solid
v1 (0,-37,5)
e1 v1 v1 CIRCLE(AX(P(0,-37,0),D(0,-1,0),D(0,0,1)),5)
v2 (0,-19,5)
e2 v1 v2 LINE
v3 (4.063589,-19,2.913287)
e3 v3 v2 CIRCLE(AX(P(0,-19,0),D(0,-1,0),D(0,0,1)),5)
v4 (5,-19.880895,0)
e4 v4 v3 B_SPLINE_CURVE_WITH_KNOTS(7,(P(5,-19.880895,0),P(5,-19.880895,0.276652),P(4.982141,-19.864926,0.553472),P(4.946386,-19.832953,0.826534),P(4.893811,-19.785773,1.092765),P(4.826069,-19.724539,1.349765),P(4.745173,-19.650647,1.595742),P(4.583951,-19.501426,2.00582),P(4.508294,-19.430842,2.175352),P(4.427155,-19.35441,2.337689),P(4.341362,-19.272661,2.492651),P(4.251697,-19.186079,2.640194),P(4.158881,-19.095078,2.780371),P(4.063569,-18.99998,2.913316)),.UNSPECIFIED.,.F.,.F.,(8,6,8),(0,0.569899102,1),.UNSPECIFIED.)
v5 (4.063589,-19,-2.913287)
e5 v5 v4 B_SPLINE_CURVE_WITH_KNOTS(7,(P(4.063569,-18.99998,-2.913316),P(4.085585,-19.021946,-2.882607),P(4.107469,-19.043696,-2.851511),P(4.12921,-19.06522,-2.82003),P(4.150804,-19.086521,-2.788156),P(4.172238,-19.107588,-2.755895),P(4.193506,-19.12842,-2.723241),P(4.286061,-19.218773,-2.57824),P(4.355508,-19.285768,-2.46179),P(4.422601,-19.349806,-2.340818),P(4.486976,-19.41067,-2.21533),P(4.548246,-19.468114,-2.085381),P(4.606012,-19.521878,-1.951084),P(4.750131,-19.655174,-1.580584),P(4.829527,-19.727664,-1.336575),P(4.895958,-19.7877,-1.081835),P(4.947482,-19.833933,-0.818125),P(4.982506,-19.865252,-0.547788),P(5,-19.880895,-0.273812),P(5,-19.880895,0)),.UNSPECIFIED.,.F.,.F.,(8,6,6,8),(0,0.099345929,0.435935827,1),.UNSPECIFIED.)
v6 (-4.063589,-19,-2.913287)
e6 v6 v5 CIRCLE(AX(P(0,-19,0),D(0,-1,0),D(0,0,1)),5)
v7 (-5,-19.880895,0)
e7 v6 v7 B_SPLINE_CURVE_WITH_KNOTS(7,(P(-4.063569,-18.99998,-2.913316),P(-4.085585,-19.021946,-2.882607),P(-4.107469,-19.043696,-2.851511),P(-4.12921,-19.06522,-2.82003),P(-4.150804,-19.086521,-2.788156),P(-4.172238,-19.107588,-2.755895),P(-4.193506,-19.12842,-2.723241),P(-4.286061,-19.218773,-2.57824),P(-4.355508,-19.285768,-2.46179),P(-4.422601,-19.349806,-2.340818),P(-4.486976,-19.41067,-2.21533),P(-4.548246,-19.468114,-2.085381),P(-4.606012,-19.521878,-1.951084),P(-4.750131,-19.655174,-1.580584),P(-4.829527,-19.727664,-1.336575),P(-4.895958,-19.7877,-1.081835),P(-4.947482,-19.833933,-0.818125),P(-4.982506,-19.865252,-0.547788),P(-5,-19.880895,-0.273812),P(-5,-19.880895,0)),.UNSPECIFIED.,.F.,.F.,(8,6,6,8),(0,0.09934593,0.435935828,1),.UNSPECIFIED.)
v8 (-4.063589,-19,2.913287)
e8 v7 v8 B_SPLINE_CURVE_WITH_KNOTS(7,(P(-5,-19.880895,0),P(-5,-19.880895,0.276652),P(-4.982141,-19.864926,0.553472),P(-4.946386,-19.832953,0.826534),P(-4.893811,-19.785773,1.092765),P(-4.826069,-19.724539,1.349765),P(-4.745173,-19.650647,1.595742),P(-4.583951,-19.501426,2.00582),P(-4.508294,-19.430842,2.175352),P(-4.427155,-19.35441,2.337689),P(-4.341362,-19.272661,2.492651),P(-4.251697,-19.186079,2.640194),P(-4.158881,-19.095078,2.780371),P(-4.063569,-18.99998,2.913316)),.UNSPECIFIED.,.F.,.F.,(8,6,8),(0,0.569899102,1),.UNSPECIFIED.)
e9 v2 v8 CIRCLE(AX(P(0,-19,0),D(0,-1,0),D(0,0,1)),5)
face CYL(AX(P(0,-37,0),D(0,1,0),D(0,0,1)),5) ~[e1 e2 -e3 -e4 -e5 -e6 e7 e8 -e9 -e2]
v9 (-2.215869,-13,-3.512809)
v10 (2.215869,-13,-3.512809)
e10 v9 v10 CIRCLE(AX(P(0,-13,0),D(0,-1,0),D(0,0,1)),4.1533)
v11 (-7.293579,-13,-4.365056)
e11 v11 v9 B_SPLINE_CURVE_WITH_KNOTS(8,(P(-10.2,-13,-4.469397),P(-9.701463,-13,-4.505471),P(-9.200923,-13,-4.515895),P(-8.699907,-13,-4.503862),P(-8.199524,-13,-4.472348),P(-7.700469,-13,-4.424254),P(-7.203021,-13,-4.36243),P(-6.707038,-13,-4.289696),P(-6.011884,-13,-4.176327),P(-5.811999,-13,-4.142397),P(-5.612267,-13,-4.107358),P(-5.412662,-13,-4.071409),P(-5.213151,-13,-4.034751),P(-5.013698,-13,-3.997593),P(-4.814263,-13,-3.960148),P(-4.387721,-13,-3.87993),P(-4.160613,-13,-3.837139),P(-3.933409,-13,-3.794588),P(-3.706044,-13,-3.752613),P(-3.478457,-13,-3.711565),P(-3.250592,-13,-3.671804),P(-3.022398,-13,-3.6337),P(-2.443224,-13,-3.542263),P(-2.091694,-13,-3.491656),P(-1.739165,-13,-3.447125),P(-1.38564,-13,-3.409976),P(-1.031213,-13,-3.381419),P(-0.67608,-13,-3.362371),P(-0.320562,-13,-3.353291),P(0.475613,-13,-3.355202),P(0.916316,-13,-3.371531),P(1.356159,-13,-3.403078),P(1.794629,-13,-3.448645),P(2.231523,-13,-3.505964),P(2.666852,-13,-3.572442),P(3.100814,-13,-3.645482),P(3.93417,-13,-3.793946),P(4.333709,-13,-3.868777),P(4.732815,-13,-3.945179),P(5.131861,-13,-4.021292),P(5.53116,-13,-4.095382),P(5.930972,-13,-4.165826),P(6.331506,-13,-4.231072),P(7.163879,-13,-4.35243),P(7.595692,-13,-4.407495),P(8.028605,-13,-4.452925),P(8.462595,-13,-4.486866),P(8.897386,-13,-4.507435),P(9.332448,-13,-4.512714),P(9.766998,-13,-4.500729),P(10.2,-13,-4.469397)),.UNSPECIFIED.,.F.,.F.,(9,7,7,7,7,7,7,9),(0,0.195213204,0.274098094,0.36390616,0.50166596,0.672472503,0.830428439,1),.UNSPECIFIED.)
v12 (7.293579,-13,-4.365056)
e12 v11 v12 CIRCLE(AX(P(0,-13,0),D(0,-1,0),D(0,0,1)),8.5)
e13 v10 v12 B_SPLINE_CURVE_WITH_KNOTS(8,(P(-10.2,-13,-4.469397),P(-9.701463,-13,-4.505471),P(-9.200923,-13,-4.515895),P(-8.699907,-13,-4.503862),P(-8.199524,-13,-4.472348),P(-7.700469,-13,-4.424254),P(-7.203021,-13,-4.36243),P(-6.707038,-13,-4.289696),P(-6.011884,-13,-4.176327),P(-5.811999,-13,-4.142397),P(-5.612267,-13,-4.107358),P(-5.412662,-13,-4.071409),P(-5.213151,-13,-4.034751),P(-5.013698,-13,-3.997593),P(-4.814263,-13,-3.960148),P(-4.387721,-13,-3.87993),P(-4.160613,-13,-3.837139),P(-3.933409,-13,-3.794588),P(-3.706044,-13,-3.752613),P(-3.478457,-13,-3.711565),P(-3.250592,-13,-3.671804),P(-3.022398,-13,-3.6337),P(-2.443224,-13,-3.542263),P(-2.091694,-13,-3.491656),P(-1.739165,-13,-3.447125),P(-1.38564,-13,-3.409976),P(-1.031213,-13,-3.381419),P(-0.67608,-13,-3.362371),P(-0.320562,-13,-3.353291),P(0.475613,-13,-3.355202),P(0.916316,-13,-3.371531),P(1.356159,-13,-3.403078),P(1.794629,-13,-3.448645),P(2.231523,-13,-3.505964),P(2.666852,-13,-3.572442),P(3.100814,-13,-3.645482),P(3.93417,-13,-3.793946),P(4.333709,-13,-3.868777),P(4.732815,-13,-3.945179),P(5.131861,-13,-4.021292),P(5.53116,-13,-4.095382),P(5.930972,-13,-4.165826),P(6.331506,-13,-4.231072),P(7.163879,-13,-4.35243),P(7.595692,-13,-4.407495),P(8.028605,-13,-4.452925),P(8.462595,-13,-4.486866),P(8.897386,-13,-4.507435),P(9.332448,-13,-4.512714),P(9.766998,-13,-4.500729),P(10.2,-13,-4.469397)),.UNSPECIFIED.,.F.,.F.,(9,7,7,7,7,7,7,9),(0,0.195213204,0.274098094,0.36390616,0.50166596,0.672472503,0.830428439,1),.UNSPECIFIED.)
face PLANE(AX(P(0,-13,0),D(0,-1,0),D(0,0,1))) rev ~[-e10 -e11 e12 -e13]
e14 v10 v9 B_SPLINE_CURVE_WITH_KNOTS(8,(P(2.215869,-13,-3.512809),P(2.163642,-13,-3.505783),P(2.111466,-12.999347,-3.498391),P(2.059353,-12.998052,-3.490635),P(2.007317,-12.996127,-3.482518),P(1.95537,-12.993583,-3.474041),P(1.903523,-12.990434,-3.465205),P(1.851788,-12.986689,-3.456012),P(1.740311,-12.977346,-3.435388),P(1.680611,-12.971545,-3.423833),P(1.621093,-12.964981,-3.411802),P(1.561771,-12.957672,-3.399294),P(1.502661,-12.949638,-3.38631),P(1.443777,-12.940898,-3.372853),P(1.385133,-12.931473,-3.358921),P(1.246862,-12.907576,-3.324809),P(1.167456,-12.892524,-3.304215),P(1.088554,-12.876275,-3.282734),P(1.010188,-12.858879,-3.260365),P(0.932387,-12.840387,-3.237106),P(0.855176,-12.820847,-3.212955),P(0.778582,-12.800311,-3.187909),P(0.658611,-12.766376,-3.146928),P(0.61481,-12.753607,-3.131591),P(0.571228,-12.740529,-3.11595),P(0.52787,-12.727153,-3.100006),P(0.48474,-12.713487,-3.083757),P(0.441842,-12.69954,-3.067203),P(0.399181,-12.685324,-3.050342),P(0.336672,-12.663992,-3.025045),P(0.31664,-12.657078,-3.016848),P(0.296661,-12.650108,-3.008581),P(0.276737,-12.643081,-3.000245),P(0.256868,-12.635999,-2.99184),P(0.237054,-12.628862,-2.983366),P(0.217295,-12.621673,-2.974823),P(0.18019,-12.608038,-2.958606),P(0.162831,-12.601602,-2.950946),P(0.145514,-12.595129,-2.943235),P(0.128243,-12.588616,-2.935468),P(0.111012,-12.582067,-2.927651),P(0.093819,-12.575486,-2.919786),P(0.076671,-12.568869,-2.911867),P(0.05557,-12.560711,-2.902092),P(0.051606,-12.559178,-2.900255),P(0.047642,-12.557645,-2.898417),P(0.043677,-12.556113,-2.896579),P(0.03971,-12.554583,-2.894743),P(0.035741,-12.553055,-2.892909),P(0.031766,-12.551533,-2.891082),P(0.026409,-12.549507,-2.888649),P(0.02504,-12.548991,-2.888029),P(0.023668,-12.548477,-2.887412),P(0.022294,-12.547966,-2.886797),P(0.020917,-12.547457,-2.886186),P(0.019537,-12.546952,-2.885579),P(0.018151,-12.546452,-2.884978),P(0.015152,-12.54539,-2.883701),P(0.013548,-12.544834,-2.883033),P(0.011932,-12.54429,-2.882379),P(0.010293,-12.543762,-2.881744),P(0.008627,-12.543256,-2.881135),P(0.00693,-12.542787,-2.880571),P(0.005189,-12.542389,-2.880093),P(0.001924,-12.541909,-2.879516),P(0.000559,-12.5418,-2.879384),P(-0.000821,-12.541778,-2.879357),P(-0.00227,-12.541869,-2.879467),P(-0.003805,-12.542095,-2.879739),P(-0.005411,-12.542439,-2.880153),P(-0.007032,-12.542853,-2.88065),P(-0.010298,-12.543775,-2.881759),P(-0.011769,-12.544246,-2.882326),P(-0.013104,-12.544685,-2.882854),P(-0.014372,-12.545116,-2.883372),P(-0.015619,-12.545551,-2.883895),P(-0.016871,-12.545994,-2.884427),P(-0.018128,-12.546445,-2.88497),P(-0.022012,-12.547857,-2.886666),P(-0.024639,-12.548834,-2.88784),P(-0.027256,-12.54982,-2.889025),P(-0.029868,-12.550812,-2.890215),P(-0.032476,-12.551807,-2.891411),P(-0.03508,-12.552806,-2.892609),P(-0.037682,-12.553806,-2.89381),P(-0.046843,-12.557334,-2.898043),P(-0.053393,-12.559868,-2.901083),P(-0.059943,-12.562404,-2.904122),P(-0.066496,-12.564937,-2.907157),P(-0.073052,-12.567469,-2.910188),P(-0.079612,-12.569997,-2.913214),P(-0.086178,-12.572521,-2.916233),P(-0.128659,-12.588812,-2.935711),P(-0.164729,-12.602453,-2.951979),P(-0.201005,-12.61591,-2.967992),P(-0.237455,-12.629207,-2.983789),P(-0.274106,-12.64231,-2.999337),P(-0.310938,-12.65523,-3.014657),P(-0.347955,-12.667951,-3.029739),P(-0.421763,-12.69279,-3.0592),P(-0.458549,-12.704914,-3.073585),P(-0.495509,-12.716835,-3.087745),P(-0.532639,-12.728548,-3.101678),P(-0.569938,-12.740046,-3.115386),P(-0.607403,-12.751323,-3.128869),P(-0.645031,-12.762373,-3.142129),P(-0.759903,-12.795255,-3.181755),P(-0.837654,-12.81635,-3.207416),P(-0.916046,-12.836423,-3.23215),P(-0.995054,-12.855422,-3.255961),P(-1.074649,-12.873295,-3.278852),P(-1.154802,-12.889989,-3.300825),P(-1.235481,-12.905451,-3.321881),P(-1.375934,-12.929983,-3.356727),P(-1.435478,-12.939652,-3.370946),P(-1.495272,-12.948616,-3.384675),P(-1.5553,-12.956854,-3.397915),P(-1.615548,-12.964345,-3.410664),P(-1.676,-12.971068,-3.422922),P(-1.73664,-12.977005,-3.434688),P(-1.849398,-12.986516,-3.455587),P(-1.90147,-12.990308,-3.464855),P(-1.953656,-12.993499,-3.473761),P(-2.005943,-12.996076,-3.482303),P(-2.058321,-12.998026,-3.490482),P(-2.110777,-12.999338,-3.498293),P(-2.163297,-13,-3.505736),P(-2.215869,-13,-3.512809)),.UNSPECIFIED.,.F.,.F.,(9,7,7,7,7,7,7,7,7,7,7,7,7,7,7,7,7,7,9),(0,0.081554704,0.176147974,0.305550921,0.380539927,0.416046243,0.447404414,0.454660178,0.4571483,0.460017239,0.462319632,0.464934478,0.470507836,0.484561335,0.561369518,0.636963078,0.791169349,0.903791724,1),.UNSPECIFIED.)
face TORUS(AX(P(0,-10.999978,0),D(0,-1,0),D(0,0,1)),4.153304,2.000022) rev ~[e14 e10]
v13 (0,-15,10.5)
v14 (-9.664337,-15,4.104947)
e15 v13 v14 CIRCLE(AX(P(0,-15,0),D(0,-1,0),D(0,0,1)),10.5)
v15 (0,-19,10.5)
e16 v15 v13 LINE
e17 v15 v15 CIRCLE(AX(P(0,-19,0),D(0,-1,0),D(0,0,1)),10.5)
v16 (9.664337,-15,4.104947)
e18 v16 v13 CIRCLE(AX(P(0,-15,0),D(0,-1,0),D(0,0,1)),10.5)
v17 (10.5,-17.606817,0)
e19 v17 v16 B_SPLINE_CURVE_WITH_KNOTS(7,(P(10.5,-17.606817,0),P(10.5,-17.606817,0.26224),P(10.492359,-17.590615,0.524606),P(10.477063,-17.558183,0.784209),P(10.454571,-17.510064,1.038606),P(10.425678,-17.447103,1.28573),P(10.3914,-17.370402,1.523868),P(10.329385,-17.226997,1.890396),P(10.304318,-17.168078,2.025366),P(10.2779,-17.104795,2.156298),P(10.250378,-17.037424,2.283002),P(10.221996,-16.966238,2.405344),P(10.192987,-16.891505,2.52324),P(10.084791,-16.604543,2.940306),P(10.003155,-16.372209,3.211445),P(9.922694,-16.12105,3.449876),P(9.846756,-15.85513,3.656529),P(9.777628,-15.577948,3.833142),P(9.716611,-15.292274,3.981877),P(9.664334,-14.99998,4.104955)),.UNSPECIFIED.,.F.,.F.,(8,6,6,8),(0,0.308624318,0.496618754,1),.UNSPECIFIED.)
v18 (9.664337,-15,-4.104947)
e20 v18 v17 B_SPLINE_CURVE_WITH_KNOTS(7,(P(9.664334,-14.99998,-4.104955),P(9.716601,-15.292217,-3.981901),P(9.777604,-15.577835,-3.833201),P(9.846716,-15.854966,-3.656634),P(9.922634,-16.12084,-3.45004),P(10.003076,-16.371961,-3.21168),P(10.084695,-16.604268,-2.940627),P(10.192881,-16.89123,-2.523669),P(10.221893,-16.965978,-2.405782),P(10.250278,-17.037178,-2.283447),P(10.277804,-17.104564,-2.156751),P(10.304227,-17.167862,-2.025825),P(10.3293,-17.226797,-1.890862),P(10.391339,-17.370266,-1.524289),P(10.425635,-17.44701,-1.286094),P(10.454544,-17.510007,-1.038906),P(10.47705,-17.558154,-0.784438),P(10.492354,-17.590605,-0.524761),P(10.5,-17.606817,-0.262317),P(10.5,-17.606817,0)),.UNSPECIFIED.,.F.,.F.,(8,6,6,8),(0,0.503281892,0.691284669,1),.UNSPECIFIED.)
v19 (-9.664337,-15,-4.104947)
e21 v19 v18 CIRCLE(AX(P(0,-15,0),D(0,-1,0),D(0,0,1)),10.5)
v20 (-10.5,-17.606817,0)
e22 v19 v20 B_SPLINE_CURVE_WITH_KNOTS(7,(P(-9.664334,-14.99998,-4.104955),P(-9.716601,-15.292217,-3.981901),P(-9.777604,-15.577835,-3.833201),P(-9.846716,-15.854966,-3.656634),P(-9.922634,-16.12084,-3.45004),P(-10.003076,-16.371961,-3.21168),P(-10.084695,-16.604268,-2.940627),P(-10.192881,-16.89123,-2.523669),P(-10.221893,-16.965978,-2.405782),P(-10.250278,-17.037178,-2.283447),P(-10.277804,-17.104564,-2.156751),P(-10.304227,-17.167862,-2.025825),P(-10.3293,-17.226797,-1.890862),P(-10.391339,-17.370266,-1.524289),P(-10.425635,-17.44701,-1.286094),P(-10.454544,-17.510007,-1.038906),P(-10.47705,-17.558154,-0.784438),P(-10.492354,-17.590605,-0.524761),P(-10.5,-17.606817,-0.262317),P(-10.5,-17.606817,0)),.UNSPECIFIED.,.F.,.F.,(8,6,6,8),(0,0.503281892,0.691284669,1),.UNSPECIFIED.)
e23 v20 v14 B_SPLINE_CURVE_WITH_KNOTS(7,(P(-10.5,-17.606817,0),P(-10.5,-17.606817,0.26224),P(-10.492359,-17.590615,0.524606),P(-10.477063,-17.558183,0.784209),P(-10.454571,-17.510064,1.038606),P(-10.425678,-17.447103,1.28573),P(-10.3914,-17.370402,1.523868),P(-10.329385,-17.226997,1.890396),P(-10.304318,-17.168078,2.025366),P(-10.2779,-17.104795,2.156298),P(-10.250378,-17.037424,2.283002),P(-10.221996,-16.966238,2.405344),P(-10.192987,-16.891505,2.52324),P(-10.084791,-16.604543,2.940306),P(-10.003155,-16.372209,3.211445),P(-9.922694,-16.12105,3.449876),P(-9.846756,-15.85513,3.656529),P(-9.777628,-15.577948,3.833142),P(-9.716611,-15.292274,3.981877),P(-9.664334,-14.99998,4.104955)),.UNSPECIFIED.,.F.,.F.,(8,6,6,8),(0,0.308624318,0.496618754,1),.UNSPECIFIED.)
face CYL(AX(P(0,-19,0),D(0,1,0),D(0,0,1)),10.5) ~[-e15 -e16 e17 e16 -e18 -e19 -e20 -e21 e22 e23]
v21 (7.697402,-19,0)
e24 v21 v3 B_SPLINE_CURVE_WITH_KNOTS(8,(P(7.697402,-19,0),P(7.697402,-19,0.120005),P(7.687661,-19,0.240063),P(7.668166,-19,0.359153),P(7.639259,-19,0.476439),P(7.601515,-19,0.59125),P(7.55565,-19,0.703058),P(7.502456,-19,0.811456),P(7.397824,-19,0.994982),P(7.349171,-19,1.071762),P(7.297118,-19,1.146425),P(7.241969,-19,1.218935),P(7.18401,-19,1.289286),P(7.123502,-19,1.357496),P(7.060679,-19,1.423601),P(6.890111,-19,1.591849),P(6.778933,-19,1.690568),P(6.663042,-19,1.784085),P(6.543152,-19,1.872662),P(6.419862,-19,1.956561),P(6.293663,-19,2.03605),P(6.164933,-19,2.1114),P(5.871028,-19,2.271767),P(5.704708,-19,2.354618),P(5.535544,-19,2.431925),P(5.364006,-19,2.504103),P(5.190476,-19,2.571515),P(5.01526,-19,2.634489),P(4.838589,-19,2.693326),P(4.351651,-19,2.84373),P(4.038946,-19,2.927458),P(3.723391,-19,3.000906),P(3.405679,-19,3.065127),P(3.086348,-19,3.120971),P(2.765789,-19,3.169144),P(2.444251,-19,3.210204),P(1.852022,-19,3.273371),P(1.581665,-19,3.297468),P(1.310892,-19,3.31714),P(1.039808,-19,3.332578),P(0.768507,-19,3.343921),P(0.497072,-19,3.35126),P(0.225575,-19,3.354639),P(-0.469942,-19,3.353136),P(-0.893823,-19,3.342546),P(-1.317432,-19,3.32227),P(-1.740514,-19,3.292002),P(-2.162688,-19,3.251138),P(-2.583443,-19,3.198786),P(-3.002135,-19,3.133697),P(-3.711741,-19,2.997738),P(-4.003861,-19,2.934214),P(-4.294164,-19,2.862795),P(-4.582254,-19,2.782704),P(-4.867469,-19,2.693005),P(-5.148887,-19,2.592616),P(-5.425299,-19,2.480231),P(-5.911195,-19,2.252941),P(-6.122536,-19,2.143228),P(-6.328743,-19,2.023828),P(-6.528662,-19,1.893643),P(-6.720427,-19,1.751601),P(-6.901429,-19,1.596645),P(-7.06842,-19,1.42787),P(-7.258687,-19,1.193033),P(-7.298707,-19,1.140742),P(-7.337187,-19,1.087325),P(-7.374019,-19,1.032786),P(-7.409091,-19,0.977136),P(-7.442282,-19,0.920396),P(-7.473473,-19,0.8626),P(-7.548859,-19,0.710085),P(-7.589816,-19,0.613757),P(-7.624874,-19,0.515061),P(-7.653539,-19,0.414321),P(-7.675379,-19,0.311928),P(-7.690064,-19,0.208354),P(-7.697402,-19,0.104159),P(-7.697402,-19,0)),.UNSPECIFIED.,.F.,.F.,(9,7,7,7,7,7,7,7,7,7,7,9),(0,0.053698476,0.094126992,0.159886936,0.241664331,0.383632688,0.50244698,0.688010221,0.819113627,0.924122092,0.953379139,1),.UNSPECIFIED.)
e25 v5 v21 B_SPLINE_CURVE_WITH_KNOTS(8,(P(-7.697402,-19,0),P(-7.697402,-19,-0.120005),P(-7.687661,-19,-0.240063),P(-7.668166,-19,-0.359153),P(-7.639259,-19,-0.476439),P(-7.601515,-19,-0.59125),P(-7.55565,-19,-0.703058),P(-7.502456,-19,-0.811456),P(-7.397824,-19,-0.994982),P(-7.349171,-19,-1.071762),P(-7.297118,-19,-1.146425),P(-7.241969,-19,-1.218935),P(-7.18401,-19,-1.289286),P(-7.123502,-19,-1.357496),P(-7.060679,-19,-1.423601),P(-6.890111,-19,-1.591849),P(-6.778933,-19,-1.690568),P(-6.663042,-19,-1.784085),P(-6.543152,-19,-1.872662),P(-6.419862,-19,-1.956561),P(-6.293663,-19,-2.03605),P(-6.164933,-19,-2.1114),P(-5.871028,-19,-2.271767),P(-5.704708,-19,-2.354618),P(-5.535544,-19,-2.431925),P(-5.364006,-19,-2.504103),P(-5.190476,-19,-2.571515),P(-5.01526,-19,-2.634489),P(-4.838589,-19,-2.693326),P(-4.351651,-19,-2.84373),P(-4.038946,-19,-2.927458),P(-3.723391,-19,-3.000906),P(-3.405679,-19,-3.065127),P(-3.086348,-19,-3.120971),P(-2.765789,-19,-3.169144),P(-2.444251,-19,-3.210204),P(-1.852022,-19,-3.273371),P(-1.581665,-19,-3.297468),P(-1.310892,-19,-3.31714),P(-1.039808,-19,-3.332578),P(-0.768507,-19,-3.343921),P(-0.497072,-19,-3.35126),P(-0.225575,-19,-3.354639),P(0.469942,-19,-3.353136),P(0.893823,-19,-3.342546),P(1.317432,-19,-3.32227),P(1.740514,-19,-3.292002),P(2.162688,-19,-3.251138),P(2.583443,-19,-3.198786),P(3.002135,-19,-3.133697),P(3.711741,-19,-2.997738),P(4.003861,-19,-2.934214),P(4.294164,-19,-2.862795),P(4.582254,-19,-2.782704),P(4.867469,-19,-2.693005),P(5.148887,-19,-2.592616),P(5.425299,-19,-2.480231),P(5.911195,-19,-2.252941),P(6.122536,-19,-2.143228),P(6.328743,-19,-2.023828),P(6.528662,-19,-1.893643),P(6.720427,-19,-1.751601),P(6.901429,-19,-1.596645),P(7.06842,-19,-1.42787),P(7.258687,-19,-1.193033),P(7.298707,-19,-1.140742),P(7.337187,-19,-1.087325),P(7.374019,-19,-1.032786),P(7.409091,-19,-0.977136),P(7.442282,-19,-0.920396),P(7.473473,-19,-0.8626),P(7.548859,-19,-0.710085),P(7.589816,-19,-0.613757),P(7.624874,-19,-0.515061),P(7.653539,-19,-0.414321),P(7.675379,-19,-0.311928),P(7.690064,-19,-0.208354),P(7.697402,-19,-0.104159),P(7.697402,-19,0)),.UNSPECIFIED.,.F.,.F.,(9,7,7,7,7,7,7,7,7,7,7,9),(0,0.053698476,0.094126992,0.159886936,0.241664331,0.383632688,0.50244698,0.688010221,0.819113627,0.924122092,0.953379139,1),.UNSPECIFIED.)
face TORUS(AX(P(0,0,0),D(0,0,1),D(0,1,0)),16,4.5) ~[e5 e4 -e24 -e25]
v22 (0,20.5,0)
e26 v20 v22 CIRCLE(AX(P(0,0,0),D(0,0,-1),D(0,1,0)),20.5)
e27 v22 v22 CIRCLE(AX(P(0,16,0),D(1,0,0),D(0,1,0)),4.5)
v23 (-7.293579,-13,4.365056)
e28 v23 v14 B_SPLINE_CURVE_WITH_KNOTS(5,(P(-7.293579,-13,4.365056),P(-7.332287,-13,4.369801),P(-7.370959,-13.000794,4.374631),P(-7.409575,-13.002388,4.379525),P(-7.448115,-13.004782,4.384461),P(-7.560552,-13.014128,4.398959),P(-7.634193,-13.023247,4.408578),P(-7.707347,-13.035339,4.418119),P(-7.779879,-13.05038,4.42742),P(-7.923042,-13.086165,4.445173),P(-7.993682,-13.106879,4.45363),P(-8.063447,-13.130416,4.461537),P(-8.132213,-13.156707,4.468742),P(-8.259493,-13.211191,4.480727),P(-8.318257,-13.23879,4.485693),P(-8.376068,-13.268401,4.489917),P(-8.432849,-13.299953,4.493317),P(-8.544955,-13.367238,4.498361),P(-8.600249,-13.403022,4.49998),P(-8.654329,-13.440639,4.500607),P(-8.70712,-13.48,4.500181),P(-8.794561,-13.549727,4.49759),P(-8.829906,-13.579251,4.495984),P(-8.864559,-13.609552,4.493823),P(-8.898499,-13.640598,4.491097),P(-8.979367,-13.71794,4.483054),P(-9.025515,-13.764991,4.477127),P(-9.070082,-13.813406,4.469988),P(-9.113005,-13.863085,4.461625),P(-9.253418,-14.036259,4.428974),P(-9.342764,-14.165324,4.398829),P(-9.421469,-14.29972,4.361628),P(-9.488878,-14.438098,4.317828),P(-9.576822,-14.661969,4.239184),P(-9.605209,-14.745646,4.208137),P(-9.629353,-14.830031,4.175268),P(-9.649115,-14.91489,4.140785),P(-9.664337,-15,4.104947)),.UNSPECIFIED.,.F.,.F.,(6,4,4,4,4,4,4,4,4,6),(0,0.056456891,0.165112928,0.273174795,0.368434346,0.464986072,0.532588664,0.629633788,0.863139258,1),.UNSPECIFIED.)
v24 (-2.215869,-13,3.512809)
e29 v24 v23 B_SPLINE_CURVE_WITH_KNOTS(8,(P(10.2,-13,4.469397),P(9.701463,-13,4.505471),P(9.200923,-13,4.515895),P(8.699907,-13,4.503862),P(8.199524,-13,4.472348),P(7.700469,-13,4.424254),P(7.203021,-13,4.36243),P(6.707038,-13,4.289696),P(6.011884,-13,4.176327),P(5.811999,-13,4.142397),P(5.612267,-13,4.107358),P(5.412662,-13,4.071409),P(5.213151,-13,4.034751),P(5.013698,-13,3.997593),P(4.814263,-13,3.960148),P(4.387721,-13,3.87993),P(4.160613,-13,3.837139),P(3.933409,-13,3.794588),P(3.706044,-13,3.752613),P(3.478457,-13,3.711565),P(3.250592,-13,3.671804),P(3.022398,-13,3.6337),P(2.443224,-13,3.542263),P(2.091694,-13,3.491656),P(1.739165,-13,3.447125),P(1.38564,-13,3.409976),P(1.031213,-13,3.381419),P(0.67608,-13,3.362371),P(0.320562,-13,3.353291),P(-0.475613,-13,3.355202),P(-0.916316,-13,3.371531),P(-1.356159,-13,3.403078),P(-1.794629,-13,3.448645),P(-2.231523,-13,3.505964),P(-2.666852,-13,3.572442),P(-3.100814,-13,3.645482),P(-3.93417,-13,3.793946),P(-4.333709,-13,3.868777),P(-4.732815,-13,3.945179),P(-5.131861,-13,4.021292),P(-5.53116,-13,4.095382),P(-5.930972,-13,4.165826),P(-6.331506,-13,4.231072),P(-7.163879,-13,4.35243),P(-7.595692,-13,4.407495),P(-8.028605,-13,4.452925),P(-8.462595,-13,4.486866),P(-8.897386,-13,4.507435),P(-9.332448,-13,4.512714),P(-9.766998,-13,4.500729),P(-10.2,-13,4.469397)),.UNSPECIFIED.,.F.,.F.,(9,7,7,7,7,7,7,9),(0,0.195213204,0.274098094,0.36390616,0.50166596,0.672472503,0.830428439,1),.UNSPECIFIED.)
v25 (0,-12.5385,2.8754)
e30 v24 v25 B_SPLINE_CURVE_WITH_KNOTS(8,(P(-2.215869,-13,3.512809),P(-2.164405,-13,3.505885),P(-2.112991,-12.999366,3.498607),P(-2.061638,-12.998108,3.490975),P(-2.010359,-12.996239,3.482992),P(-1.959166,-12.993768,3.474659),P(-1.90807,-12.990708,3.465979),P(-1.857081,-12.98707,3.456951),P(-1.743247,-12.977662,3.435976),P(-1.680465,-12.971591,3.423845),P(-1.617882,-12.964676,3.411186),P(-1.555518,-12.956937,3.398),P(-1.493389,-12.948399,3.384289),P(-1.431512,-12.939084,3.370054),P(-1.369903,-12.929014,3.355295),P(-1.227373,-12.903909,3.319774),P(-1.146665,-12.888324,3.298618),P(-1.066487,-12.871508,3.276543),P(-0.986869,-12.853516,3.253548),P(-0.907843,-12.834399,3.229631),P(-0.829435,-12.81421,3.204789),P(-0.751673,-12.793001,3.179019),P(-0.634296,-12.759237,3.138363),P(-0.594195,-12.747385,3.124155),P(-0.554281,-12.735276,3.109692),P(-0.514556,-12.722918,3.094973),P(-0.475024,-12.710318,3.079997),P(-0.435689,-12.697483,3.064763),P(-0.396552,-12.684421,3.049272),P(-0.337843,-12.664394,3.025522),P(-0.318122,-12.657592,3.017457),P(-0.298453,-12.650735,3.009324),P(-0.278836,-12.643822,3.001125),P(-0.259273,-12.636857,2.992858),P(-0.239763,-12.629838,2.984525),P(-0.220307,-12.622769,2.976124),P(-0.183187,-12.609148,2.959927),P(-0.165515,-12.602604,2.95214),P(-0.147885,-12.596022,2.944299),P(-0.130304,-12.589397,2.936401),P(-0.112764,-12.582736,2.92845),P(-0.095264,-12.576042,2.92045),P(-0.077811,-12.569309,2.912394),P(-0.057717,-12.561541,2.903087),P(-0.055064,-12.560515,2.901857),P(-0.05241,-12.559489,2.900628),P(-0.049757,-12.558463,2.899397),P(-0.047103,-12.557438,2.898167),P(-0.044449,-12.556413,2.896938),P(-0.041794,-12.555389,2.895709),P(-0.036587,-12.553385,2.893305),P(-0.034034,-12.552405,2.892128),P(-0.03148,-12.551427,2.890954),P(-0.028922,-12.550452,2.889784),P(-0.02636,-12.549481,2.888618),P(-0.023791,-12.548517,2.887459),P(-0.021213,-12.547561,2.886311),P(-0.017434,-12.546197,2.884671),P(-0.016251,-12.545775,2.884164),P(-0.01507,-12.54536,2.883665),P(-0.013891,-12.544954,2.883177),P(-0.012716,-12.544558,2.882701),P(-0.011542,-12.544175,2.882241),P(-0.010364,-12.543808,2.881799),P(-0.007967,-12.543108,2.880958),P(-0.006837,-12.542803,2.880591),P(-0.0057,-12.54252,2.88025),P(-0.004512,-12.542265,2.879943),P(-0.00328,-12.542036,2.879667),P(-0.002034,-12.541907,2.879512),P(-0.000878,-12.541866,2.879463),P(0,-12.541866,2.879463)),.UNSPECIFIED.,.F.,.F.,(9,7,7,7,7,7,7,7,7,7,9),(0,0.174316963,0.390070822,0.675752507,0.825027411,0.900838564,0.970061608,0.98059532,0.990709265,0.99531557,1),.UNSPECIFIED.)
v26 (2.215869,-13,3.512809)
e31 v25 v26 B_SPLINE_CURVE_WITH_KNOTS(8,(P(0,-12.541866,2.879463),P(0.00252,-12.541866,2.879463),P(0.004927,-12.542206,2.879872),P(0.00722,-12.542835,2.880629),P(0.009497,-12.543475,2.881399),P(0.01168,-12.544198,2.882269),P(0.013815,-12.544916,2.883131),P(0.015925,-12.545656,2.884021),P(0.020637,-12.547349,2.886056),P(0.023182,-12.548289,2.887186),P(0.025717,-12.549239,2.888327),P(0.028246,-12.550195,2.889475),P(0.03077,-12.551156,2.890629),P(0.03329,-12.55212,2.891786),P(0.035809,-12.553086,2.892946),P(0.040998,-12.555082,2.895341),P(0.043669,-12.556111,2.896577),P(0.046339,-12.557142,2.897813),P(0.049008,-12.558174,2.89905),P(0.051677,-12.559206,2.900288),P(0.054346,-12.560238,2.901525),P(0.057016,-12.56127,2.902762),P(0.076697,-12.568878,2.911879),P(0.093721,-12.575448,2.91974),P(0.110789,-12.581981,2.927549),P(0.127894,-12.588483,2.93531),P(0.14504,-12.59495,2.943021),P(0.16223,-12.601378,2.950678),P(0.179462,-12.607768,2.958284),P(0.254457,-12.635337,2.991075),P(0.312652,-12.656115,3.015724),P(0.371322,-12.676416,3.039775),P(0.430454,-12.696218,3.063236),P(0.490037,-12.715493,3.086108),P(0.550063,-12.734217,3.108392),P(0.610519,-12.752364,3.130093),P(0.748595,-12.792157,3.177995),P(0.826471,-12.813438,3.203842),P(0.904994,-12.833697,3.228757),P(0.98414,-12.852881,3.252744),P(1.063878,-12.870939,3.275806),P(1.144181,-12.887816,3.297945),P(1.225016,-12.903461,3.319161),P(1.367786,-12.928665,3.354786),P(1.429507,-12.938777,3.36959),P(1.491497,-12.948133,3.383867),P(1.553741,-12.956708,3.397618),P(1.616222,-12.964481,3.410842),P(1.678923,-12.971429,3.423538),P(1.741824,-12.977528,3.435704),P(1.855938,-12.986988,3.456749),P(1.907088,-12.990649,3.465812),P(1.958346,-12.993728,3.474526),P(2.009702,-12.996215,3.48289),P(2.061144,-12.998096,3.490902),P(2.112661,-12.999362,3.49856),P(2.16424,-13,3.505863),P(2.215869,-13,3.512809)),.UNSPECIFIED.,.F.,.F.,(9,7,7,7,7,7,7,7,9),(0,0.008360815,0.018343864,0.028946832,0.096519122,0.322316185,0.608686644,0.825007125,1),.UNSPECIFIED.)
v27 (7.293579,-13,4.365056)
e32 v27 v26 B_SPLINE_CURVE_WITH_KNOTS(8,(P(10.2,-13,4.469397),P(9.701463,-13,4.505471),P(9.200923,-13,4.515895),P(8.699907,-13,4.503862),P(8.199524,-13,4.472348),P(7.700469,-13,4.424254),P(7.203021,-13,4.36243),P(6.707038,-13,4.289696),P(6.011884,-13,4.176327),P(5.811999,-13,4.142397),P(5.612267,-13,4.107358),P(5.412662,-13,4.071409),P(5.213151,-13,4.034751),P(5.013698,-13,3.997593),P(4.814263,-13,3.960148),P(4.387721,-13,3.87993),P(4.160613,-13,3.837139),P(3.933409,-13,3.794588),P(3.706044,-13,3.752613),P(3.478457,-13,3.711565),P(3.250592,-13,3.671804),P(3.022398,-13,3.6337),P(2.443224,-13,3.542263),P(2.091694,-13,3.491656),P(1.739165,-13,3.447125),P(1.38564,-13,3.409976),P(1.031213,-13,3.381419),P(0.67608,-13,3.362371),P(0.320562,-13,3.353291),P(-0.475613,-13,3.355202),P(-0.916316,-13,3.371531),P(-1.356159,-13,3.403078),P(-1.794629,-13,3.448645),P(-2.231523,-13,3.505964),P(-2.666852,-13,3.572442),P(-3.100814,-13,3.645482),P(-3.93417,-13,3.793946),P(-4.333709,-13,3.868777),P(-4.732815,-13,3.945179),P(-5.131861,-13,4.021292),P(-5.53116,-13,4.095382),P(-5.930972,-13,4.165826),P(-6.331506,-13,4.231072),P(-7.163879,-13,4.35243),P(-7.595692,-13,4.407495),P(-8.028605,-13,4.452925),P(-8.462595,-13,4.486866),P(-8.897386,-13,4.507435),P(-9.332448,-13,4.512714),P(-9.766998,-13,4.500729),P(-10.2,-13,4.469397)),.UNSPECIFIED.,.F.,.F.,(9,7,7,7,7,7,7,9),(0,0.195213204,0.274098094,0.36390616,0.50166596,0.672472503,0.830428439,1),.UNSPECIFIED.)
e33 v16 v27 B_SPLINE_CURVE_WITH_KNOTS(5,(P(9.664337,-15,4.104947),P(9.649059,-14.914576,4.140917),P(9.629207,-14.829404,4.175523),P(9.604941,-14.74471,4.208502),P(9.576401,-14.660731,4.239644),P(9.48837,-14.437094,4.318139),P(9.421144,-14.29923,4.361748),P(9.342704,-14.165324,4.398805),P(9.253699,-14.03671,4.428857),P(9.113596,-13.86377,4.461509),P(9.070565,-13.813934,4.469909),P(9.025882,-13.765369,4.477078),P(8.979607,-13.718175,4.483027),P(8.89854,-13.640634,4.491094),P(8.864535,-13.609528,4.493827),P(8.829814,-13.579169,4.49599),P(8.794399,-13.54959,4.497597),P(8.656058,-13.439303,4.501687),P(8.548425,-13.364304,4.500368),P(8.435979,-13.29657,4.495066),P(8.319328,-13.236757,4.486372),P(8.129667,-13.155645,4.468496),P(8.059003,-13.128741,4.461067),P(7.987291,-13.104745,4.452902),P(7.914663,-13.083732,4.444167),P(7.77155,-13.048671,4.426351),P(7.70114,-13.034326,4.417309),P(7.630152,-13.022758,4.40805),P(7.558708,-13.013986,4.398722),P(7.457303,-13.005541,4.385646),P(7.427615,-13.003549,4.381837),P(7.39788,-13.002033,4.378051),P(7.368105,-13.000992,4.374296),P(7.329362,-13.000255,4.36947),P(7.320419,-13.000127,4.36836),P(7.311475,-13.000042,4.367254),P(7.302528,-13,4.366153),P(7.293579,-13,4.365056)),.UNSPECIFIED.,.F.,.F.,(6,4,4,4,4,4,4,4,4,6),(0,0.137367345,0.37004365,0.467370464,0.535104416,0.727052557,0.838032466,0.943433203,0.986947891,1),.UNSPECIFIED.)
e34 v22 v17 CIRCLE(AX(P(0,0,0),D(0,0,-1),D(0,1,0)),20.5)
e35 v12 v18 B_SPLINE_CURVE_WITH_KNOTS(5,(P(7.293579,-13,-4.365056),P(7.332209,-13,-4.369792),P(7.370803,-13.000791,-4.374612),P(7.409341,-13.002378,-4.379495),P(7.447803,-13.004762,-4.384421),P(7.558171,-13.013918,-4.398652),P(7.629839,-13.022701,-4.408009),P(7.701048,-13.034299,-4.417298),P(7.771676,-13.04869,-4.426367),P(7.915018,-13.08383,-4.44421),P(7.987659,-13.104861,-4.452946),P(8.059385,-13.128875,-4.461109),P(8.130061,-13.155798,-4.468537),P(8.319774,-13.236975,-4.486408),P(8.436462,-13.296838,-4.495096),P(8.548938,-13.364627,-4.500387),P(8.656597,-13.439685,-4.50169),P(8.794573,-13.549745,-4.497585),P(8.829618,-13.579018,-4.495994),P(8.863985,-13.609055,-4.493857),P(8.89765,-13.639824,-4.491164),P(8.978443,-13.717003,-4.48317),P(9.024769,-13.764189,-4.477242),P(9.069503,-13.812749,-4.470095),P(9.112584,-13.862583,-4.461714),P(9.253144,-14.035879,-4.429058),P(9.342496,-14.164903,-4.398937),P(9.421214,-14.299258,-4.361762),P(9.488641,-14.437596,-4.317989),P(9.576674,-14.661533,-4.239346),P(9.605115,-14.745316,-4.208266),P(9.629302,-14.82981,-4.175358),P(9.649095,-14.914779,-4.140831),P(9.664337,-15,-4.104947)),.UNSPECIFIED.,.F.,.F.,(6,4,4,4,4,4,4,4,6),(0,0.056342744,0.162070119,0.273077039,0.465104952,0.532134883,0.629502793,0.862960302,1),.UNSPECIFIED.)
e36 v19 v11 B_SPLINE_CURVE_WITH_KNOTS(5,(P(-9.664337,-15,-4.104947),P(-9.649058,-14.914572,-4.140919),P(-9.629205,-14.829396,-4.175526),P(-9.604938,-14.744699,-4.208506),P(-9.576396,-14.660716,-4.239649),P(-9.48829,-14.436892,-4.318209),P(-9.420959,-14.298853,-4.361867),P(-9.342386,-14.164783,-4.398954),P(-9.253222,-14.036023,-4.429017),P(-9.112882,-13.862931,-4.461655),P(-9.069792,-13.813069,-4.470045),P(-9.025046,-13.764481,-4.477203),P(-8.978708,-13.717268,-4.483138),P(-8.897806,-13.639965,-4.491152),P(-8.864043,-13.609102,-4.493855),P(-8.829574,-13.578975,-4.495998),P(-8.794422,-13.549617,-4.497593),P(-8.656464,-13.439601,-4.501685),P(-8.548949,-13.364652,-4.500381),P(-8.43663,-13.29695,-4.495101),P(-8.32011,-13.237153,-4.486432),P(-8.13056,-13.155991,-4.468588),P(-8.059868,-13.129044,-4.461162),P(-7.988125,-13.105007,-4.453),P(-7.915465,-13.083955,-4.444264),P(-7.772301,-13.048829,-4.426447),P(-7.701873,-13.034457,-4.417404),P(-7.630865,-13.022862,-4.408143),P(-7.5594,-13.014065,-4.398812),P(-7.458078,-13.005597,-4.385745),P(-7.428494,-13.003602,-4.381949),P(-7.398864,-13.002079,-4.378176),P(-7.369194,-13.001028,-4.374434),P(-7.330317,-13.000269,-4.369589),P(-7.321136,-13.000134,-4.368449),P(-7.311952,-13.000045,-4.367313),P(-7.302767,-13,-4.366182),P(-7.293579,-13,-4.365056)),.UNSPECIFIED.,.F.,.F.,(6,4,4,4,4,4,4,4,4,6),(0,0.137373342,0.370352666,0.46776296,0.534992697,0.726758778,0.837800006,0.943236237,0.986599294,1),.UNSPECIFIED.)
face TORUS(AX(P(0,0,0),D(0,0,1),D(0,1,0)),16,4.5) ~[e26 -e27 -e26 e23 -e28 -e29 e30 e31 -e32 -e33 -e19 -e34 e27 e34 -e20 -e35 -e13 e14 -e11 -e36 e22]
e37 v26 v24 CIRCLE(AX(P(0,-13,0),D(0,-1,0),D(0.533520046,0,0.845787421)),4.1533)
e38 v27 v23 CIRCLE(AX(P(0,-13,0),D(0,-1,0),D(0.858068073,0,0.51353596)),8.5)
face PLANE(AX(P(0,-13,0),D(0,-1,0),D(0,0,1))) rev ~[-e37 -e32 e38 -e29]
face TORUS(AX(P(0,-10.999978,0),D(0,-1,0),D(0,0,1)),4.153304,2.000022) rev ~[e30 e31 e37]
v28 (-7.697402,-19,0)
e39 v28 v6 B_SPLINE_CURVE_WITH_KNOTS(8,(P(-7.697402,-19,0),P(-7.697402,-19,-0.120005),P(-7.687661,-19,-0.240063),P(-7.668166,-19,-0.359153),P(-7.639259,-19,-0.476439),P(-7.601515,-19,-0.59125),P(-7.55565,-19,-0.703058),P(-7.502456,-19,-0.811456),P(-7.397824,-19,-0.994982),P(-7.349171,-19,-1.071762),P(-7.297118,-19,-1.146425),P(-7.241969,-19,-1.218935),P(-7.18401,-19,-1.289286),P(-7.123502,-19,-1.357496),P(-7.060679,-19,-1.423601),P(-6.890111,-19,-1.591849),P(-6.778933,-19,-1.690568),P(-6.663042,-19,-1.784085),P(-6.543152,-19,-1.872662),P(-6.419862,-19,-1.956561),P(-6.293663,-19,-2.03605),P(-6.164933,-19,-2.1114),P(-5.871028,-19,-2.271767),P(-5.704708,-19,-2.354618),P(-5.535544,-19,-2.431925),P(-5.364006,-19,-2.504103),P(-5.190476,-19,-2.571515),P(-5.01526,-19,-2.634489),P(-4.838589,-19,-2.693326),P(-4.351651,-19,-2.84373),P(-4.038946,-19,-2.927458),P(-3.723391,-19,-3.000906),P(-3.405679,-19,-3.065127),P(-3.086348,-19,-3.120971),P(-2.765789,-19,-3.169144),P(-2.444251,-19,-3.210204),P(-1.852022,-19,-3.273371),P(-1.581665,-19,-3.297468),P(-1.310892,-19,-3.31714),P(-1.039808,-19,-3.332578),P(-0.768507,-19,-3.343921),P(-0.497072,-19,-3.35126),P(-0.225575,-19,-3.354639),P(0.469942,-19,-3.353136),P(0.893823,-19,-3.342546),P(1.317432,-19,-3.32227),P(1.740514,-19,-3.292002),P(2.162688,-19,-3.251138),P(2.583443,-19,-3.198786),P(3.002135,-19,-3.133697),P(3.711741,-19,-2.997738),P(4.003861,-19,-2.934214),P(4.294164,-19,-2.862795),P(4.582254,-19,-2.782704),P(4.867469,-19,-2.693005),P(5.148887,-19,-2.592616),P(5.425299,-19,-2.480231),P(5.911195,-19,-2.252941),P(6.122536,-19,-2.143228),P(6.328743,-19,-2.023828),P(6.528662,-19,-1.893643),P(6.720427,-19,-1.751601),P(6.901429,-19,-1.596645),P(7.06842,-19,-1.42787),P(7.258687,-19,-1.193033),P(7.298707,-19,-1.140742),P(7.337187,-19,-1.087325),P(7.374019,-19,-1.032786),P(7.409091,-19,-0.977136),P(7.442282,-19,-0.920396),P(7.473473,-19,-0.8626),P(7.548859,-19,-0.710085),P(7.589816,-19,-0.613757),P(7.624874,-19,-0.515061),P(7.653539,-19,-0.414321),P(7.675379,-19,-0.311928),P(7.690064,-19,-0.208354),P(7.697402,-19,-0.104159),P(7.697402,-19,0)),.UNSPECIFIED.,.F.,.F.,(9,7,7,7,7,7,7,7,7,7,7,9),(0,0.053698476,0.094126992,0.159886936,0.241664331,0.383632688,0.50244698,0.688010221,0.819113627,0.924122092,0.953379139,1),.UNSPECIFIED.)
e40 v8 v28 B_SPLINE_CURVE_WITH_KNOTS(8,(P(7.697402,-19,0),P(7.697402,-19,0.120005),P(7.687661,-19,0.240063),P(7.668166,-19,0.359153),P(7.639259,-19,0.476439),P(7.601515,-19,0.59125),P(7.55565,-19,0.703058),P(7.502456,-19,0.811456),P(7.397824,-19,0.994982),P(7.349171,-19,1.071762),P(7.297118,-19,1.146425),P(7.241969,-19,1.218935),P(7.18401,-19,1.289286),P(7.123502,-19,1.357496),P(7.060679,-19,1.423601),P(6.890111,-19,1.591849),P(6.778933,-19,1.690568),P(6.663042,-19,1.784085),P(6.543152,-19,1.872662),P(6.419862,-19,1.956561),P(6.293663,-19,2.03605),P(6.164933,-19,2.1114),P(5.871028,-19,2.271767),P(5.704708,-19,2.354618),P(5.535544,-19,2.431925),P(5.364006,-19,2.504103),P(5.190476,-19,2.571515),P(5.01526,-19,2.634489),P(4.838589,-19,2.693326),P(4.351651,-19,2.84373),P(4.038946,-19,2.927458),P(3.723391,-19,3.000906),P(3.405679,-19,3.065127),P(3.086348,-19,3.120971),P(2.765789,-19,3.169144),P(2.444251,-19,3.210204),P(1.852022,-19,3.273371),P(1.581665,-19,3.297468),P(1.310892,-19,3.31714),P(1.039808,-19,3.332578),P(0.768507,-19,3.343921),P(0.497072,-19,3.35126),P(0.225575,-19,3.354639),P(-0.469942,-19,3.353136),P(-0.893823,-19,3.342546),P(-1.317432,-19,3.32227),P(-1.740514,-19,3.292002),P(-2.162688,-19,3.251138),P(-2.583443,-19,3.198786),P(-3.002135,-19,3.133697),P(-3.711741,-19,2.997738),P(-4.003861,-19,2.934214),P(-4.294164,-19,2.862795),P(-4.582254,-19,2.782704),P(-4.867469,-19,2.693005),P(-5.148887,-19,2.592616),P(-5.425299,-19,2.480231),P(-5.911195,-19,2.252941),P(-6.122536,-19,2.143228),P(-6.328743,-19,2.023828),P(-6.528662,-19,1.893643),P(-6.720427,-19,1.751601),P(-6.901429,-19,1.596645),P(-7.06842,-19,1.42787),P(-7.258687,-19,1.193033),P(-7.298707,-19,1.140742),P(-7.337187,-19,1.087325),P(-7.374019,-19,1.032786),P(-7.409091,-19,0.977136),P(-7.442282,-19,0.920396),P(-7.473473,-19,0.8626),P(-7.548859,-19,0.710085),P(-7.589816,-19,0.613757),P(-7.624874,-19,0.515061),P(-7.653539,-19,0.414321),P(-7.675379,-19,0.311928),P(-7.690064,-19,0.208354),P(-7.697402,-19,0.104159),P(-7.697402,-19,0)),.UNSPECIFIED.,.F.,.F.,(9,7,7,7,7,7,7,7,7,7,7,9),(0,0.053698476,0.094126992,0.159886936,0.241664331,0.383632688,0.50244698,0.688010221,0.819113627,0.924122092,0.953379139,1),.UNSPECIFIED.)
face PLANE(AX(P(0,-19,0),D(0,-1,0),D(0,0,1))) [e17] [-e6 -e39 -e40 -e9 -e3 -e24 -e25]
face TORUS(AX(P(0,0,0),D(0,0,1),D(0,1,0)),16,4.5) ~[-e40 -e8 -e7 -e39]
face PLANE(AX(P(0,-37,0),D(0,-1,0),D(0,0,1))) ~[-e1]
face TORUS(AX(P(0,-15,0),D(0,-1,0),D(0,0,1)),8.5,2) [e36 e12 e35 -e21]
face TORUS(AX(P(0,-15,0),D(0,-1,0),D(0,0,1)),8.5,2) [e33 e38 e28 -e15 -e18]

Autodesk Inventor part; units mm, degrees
ref_plane "YZ Plane" through (0, 0, 0) normal (1, 0, 0) x (0, 1, 0)
ref_plane "XZ Plane" through (0, 0, 0) normal (0, 1, 0) x (-1, 0, 0)
ref_plane "XY Plane" through (0, 0, 0) normal (0, 0, 1) x (1, 0, 0)
sketch "Sketch1" plane through (0, 0, 0) normal (1, 0, 0) x (0, 1, 0)
  line L0 (0, 16.3189) -> (0, -16.3189) construction
  line L1 (15.6465, 0) -> (-15.6465, 0) construction
  circle A0 centre (16, 0) radius 4.5
  line L2 (-19, 10.5) -> (-19, 0)
  circle A1 centre (-16, 0) radius 4.5 construction
  line L3 (-19, 10.5) -> (-15, 10.5)
  line L4 (-13, 8.5) -> (-13, 4.1533)
  arc A2 (-11.5, 0) -> (-12.5385, 2.8754) centre (-16, 0) ccw
  line L5 (-19, 0) -> (-11.5, 0)
  arc A3 (-13, 4.1533) -> (-12.5385, 2.8754) centre (-11, 4.1533) ccw
  arc A4 (-13, 8.5) -> (-15, 10.5) centre (-15, 8.5) ccw
  line L6 (-19, 0) -> (-37, 0)
  line L7 (-37, 0) -> (-37, 5)
  line L8 (-37, 5) -> (-19, 5)
  point P0 (0, 0)
  point P1 (0, 0)
  point P2 (-13, 10.5)
  point P3 (-13, 3.3541)
  dimension "D" = 9
  dimension "d1" = 16
  dimension "Emm" = 19
  dimension "B" = 21
  dimension "d4" = 6
  dimension "d5" = 2
  dimension "Amm" = 10
  dimension "Fmm" = 18
revolve "Revolution1" add sketch "Sketch1" angle 360 about axis through (0, 0, 16.3189) along (0, 0, -1) contours A0
revolve "Revolution2" add sketch "Sketch1" angle 360 about axis through (0, -19, 0) along (0, -1, 0) contours L3 A4 L4 A3 A2 L5 L2 | L2 L6 L7 L8
thread "Thread7" size "M10x1.5" class "6g" standard "ANSI Metric M Profile" full length
equation "\"d1\" = 0.5 * Cmm + D"
equation "\"d4\" = 0.666667 * D"
equation "\"Cmm\" = 14"
properties part number "M12 EYE BOLT" material "Steel, Carbon"
